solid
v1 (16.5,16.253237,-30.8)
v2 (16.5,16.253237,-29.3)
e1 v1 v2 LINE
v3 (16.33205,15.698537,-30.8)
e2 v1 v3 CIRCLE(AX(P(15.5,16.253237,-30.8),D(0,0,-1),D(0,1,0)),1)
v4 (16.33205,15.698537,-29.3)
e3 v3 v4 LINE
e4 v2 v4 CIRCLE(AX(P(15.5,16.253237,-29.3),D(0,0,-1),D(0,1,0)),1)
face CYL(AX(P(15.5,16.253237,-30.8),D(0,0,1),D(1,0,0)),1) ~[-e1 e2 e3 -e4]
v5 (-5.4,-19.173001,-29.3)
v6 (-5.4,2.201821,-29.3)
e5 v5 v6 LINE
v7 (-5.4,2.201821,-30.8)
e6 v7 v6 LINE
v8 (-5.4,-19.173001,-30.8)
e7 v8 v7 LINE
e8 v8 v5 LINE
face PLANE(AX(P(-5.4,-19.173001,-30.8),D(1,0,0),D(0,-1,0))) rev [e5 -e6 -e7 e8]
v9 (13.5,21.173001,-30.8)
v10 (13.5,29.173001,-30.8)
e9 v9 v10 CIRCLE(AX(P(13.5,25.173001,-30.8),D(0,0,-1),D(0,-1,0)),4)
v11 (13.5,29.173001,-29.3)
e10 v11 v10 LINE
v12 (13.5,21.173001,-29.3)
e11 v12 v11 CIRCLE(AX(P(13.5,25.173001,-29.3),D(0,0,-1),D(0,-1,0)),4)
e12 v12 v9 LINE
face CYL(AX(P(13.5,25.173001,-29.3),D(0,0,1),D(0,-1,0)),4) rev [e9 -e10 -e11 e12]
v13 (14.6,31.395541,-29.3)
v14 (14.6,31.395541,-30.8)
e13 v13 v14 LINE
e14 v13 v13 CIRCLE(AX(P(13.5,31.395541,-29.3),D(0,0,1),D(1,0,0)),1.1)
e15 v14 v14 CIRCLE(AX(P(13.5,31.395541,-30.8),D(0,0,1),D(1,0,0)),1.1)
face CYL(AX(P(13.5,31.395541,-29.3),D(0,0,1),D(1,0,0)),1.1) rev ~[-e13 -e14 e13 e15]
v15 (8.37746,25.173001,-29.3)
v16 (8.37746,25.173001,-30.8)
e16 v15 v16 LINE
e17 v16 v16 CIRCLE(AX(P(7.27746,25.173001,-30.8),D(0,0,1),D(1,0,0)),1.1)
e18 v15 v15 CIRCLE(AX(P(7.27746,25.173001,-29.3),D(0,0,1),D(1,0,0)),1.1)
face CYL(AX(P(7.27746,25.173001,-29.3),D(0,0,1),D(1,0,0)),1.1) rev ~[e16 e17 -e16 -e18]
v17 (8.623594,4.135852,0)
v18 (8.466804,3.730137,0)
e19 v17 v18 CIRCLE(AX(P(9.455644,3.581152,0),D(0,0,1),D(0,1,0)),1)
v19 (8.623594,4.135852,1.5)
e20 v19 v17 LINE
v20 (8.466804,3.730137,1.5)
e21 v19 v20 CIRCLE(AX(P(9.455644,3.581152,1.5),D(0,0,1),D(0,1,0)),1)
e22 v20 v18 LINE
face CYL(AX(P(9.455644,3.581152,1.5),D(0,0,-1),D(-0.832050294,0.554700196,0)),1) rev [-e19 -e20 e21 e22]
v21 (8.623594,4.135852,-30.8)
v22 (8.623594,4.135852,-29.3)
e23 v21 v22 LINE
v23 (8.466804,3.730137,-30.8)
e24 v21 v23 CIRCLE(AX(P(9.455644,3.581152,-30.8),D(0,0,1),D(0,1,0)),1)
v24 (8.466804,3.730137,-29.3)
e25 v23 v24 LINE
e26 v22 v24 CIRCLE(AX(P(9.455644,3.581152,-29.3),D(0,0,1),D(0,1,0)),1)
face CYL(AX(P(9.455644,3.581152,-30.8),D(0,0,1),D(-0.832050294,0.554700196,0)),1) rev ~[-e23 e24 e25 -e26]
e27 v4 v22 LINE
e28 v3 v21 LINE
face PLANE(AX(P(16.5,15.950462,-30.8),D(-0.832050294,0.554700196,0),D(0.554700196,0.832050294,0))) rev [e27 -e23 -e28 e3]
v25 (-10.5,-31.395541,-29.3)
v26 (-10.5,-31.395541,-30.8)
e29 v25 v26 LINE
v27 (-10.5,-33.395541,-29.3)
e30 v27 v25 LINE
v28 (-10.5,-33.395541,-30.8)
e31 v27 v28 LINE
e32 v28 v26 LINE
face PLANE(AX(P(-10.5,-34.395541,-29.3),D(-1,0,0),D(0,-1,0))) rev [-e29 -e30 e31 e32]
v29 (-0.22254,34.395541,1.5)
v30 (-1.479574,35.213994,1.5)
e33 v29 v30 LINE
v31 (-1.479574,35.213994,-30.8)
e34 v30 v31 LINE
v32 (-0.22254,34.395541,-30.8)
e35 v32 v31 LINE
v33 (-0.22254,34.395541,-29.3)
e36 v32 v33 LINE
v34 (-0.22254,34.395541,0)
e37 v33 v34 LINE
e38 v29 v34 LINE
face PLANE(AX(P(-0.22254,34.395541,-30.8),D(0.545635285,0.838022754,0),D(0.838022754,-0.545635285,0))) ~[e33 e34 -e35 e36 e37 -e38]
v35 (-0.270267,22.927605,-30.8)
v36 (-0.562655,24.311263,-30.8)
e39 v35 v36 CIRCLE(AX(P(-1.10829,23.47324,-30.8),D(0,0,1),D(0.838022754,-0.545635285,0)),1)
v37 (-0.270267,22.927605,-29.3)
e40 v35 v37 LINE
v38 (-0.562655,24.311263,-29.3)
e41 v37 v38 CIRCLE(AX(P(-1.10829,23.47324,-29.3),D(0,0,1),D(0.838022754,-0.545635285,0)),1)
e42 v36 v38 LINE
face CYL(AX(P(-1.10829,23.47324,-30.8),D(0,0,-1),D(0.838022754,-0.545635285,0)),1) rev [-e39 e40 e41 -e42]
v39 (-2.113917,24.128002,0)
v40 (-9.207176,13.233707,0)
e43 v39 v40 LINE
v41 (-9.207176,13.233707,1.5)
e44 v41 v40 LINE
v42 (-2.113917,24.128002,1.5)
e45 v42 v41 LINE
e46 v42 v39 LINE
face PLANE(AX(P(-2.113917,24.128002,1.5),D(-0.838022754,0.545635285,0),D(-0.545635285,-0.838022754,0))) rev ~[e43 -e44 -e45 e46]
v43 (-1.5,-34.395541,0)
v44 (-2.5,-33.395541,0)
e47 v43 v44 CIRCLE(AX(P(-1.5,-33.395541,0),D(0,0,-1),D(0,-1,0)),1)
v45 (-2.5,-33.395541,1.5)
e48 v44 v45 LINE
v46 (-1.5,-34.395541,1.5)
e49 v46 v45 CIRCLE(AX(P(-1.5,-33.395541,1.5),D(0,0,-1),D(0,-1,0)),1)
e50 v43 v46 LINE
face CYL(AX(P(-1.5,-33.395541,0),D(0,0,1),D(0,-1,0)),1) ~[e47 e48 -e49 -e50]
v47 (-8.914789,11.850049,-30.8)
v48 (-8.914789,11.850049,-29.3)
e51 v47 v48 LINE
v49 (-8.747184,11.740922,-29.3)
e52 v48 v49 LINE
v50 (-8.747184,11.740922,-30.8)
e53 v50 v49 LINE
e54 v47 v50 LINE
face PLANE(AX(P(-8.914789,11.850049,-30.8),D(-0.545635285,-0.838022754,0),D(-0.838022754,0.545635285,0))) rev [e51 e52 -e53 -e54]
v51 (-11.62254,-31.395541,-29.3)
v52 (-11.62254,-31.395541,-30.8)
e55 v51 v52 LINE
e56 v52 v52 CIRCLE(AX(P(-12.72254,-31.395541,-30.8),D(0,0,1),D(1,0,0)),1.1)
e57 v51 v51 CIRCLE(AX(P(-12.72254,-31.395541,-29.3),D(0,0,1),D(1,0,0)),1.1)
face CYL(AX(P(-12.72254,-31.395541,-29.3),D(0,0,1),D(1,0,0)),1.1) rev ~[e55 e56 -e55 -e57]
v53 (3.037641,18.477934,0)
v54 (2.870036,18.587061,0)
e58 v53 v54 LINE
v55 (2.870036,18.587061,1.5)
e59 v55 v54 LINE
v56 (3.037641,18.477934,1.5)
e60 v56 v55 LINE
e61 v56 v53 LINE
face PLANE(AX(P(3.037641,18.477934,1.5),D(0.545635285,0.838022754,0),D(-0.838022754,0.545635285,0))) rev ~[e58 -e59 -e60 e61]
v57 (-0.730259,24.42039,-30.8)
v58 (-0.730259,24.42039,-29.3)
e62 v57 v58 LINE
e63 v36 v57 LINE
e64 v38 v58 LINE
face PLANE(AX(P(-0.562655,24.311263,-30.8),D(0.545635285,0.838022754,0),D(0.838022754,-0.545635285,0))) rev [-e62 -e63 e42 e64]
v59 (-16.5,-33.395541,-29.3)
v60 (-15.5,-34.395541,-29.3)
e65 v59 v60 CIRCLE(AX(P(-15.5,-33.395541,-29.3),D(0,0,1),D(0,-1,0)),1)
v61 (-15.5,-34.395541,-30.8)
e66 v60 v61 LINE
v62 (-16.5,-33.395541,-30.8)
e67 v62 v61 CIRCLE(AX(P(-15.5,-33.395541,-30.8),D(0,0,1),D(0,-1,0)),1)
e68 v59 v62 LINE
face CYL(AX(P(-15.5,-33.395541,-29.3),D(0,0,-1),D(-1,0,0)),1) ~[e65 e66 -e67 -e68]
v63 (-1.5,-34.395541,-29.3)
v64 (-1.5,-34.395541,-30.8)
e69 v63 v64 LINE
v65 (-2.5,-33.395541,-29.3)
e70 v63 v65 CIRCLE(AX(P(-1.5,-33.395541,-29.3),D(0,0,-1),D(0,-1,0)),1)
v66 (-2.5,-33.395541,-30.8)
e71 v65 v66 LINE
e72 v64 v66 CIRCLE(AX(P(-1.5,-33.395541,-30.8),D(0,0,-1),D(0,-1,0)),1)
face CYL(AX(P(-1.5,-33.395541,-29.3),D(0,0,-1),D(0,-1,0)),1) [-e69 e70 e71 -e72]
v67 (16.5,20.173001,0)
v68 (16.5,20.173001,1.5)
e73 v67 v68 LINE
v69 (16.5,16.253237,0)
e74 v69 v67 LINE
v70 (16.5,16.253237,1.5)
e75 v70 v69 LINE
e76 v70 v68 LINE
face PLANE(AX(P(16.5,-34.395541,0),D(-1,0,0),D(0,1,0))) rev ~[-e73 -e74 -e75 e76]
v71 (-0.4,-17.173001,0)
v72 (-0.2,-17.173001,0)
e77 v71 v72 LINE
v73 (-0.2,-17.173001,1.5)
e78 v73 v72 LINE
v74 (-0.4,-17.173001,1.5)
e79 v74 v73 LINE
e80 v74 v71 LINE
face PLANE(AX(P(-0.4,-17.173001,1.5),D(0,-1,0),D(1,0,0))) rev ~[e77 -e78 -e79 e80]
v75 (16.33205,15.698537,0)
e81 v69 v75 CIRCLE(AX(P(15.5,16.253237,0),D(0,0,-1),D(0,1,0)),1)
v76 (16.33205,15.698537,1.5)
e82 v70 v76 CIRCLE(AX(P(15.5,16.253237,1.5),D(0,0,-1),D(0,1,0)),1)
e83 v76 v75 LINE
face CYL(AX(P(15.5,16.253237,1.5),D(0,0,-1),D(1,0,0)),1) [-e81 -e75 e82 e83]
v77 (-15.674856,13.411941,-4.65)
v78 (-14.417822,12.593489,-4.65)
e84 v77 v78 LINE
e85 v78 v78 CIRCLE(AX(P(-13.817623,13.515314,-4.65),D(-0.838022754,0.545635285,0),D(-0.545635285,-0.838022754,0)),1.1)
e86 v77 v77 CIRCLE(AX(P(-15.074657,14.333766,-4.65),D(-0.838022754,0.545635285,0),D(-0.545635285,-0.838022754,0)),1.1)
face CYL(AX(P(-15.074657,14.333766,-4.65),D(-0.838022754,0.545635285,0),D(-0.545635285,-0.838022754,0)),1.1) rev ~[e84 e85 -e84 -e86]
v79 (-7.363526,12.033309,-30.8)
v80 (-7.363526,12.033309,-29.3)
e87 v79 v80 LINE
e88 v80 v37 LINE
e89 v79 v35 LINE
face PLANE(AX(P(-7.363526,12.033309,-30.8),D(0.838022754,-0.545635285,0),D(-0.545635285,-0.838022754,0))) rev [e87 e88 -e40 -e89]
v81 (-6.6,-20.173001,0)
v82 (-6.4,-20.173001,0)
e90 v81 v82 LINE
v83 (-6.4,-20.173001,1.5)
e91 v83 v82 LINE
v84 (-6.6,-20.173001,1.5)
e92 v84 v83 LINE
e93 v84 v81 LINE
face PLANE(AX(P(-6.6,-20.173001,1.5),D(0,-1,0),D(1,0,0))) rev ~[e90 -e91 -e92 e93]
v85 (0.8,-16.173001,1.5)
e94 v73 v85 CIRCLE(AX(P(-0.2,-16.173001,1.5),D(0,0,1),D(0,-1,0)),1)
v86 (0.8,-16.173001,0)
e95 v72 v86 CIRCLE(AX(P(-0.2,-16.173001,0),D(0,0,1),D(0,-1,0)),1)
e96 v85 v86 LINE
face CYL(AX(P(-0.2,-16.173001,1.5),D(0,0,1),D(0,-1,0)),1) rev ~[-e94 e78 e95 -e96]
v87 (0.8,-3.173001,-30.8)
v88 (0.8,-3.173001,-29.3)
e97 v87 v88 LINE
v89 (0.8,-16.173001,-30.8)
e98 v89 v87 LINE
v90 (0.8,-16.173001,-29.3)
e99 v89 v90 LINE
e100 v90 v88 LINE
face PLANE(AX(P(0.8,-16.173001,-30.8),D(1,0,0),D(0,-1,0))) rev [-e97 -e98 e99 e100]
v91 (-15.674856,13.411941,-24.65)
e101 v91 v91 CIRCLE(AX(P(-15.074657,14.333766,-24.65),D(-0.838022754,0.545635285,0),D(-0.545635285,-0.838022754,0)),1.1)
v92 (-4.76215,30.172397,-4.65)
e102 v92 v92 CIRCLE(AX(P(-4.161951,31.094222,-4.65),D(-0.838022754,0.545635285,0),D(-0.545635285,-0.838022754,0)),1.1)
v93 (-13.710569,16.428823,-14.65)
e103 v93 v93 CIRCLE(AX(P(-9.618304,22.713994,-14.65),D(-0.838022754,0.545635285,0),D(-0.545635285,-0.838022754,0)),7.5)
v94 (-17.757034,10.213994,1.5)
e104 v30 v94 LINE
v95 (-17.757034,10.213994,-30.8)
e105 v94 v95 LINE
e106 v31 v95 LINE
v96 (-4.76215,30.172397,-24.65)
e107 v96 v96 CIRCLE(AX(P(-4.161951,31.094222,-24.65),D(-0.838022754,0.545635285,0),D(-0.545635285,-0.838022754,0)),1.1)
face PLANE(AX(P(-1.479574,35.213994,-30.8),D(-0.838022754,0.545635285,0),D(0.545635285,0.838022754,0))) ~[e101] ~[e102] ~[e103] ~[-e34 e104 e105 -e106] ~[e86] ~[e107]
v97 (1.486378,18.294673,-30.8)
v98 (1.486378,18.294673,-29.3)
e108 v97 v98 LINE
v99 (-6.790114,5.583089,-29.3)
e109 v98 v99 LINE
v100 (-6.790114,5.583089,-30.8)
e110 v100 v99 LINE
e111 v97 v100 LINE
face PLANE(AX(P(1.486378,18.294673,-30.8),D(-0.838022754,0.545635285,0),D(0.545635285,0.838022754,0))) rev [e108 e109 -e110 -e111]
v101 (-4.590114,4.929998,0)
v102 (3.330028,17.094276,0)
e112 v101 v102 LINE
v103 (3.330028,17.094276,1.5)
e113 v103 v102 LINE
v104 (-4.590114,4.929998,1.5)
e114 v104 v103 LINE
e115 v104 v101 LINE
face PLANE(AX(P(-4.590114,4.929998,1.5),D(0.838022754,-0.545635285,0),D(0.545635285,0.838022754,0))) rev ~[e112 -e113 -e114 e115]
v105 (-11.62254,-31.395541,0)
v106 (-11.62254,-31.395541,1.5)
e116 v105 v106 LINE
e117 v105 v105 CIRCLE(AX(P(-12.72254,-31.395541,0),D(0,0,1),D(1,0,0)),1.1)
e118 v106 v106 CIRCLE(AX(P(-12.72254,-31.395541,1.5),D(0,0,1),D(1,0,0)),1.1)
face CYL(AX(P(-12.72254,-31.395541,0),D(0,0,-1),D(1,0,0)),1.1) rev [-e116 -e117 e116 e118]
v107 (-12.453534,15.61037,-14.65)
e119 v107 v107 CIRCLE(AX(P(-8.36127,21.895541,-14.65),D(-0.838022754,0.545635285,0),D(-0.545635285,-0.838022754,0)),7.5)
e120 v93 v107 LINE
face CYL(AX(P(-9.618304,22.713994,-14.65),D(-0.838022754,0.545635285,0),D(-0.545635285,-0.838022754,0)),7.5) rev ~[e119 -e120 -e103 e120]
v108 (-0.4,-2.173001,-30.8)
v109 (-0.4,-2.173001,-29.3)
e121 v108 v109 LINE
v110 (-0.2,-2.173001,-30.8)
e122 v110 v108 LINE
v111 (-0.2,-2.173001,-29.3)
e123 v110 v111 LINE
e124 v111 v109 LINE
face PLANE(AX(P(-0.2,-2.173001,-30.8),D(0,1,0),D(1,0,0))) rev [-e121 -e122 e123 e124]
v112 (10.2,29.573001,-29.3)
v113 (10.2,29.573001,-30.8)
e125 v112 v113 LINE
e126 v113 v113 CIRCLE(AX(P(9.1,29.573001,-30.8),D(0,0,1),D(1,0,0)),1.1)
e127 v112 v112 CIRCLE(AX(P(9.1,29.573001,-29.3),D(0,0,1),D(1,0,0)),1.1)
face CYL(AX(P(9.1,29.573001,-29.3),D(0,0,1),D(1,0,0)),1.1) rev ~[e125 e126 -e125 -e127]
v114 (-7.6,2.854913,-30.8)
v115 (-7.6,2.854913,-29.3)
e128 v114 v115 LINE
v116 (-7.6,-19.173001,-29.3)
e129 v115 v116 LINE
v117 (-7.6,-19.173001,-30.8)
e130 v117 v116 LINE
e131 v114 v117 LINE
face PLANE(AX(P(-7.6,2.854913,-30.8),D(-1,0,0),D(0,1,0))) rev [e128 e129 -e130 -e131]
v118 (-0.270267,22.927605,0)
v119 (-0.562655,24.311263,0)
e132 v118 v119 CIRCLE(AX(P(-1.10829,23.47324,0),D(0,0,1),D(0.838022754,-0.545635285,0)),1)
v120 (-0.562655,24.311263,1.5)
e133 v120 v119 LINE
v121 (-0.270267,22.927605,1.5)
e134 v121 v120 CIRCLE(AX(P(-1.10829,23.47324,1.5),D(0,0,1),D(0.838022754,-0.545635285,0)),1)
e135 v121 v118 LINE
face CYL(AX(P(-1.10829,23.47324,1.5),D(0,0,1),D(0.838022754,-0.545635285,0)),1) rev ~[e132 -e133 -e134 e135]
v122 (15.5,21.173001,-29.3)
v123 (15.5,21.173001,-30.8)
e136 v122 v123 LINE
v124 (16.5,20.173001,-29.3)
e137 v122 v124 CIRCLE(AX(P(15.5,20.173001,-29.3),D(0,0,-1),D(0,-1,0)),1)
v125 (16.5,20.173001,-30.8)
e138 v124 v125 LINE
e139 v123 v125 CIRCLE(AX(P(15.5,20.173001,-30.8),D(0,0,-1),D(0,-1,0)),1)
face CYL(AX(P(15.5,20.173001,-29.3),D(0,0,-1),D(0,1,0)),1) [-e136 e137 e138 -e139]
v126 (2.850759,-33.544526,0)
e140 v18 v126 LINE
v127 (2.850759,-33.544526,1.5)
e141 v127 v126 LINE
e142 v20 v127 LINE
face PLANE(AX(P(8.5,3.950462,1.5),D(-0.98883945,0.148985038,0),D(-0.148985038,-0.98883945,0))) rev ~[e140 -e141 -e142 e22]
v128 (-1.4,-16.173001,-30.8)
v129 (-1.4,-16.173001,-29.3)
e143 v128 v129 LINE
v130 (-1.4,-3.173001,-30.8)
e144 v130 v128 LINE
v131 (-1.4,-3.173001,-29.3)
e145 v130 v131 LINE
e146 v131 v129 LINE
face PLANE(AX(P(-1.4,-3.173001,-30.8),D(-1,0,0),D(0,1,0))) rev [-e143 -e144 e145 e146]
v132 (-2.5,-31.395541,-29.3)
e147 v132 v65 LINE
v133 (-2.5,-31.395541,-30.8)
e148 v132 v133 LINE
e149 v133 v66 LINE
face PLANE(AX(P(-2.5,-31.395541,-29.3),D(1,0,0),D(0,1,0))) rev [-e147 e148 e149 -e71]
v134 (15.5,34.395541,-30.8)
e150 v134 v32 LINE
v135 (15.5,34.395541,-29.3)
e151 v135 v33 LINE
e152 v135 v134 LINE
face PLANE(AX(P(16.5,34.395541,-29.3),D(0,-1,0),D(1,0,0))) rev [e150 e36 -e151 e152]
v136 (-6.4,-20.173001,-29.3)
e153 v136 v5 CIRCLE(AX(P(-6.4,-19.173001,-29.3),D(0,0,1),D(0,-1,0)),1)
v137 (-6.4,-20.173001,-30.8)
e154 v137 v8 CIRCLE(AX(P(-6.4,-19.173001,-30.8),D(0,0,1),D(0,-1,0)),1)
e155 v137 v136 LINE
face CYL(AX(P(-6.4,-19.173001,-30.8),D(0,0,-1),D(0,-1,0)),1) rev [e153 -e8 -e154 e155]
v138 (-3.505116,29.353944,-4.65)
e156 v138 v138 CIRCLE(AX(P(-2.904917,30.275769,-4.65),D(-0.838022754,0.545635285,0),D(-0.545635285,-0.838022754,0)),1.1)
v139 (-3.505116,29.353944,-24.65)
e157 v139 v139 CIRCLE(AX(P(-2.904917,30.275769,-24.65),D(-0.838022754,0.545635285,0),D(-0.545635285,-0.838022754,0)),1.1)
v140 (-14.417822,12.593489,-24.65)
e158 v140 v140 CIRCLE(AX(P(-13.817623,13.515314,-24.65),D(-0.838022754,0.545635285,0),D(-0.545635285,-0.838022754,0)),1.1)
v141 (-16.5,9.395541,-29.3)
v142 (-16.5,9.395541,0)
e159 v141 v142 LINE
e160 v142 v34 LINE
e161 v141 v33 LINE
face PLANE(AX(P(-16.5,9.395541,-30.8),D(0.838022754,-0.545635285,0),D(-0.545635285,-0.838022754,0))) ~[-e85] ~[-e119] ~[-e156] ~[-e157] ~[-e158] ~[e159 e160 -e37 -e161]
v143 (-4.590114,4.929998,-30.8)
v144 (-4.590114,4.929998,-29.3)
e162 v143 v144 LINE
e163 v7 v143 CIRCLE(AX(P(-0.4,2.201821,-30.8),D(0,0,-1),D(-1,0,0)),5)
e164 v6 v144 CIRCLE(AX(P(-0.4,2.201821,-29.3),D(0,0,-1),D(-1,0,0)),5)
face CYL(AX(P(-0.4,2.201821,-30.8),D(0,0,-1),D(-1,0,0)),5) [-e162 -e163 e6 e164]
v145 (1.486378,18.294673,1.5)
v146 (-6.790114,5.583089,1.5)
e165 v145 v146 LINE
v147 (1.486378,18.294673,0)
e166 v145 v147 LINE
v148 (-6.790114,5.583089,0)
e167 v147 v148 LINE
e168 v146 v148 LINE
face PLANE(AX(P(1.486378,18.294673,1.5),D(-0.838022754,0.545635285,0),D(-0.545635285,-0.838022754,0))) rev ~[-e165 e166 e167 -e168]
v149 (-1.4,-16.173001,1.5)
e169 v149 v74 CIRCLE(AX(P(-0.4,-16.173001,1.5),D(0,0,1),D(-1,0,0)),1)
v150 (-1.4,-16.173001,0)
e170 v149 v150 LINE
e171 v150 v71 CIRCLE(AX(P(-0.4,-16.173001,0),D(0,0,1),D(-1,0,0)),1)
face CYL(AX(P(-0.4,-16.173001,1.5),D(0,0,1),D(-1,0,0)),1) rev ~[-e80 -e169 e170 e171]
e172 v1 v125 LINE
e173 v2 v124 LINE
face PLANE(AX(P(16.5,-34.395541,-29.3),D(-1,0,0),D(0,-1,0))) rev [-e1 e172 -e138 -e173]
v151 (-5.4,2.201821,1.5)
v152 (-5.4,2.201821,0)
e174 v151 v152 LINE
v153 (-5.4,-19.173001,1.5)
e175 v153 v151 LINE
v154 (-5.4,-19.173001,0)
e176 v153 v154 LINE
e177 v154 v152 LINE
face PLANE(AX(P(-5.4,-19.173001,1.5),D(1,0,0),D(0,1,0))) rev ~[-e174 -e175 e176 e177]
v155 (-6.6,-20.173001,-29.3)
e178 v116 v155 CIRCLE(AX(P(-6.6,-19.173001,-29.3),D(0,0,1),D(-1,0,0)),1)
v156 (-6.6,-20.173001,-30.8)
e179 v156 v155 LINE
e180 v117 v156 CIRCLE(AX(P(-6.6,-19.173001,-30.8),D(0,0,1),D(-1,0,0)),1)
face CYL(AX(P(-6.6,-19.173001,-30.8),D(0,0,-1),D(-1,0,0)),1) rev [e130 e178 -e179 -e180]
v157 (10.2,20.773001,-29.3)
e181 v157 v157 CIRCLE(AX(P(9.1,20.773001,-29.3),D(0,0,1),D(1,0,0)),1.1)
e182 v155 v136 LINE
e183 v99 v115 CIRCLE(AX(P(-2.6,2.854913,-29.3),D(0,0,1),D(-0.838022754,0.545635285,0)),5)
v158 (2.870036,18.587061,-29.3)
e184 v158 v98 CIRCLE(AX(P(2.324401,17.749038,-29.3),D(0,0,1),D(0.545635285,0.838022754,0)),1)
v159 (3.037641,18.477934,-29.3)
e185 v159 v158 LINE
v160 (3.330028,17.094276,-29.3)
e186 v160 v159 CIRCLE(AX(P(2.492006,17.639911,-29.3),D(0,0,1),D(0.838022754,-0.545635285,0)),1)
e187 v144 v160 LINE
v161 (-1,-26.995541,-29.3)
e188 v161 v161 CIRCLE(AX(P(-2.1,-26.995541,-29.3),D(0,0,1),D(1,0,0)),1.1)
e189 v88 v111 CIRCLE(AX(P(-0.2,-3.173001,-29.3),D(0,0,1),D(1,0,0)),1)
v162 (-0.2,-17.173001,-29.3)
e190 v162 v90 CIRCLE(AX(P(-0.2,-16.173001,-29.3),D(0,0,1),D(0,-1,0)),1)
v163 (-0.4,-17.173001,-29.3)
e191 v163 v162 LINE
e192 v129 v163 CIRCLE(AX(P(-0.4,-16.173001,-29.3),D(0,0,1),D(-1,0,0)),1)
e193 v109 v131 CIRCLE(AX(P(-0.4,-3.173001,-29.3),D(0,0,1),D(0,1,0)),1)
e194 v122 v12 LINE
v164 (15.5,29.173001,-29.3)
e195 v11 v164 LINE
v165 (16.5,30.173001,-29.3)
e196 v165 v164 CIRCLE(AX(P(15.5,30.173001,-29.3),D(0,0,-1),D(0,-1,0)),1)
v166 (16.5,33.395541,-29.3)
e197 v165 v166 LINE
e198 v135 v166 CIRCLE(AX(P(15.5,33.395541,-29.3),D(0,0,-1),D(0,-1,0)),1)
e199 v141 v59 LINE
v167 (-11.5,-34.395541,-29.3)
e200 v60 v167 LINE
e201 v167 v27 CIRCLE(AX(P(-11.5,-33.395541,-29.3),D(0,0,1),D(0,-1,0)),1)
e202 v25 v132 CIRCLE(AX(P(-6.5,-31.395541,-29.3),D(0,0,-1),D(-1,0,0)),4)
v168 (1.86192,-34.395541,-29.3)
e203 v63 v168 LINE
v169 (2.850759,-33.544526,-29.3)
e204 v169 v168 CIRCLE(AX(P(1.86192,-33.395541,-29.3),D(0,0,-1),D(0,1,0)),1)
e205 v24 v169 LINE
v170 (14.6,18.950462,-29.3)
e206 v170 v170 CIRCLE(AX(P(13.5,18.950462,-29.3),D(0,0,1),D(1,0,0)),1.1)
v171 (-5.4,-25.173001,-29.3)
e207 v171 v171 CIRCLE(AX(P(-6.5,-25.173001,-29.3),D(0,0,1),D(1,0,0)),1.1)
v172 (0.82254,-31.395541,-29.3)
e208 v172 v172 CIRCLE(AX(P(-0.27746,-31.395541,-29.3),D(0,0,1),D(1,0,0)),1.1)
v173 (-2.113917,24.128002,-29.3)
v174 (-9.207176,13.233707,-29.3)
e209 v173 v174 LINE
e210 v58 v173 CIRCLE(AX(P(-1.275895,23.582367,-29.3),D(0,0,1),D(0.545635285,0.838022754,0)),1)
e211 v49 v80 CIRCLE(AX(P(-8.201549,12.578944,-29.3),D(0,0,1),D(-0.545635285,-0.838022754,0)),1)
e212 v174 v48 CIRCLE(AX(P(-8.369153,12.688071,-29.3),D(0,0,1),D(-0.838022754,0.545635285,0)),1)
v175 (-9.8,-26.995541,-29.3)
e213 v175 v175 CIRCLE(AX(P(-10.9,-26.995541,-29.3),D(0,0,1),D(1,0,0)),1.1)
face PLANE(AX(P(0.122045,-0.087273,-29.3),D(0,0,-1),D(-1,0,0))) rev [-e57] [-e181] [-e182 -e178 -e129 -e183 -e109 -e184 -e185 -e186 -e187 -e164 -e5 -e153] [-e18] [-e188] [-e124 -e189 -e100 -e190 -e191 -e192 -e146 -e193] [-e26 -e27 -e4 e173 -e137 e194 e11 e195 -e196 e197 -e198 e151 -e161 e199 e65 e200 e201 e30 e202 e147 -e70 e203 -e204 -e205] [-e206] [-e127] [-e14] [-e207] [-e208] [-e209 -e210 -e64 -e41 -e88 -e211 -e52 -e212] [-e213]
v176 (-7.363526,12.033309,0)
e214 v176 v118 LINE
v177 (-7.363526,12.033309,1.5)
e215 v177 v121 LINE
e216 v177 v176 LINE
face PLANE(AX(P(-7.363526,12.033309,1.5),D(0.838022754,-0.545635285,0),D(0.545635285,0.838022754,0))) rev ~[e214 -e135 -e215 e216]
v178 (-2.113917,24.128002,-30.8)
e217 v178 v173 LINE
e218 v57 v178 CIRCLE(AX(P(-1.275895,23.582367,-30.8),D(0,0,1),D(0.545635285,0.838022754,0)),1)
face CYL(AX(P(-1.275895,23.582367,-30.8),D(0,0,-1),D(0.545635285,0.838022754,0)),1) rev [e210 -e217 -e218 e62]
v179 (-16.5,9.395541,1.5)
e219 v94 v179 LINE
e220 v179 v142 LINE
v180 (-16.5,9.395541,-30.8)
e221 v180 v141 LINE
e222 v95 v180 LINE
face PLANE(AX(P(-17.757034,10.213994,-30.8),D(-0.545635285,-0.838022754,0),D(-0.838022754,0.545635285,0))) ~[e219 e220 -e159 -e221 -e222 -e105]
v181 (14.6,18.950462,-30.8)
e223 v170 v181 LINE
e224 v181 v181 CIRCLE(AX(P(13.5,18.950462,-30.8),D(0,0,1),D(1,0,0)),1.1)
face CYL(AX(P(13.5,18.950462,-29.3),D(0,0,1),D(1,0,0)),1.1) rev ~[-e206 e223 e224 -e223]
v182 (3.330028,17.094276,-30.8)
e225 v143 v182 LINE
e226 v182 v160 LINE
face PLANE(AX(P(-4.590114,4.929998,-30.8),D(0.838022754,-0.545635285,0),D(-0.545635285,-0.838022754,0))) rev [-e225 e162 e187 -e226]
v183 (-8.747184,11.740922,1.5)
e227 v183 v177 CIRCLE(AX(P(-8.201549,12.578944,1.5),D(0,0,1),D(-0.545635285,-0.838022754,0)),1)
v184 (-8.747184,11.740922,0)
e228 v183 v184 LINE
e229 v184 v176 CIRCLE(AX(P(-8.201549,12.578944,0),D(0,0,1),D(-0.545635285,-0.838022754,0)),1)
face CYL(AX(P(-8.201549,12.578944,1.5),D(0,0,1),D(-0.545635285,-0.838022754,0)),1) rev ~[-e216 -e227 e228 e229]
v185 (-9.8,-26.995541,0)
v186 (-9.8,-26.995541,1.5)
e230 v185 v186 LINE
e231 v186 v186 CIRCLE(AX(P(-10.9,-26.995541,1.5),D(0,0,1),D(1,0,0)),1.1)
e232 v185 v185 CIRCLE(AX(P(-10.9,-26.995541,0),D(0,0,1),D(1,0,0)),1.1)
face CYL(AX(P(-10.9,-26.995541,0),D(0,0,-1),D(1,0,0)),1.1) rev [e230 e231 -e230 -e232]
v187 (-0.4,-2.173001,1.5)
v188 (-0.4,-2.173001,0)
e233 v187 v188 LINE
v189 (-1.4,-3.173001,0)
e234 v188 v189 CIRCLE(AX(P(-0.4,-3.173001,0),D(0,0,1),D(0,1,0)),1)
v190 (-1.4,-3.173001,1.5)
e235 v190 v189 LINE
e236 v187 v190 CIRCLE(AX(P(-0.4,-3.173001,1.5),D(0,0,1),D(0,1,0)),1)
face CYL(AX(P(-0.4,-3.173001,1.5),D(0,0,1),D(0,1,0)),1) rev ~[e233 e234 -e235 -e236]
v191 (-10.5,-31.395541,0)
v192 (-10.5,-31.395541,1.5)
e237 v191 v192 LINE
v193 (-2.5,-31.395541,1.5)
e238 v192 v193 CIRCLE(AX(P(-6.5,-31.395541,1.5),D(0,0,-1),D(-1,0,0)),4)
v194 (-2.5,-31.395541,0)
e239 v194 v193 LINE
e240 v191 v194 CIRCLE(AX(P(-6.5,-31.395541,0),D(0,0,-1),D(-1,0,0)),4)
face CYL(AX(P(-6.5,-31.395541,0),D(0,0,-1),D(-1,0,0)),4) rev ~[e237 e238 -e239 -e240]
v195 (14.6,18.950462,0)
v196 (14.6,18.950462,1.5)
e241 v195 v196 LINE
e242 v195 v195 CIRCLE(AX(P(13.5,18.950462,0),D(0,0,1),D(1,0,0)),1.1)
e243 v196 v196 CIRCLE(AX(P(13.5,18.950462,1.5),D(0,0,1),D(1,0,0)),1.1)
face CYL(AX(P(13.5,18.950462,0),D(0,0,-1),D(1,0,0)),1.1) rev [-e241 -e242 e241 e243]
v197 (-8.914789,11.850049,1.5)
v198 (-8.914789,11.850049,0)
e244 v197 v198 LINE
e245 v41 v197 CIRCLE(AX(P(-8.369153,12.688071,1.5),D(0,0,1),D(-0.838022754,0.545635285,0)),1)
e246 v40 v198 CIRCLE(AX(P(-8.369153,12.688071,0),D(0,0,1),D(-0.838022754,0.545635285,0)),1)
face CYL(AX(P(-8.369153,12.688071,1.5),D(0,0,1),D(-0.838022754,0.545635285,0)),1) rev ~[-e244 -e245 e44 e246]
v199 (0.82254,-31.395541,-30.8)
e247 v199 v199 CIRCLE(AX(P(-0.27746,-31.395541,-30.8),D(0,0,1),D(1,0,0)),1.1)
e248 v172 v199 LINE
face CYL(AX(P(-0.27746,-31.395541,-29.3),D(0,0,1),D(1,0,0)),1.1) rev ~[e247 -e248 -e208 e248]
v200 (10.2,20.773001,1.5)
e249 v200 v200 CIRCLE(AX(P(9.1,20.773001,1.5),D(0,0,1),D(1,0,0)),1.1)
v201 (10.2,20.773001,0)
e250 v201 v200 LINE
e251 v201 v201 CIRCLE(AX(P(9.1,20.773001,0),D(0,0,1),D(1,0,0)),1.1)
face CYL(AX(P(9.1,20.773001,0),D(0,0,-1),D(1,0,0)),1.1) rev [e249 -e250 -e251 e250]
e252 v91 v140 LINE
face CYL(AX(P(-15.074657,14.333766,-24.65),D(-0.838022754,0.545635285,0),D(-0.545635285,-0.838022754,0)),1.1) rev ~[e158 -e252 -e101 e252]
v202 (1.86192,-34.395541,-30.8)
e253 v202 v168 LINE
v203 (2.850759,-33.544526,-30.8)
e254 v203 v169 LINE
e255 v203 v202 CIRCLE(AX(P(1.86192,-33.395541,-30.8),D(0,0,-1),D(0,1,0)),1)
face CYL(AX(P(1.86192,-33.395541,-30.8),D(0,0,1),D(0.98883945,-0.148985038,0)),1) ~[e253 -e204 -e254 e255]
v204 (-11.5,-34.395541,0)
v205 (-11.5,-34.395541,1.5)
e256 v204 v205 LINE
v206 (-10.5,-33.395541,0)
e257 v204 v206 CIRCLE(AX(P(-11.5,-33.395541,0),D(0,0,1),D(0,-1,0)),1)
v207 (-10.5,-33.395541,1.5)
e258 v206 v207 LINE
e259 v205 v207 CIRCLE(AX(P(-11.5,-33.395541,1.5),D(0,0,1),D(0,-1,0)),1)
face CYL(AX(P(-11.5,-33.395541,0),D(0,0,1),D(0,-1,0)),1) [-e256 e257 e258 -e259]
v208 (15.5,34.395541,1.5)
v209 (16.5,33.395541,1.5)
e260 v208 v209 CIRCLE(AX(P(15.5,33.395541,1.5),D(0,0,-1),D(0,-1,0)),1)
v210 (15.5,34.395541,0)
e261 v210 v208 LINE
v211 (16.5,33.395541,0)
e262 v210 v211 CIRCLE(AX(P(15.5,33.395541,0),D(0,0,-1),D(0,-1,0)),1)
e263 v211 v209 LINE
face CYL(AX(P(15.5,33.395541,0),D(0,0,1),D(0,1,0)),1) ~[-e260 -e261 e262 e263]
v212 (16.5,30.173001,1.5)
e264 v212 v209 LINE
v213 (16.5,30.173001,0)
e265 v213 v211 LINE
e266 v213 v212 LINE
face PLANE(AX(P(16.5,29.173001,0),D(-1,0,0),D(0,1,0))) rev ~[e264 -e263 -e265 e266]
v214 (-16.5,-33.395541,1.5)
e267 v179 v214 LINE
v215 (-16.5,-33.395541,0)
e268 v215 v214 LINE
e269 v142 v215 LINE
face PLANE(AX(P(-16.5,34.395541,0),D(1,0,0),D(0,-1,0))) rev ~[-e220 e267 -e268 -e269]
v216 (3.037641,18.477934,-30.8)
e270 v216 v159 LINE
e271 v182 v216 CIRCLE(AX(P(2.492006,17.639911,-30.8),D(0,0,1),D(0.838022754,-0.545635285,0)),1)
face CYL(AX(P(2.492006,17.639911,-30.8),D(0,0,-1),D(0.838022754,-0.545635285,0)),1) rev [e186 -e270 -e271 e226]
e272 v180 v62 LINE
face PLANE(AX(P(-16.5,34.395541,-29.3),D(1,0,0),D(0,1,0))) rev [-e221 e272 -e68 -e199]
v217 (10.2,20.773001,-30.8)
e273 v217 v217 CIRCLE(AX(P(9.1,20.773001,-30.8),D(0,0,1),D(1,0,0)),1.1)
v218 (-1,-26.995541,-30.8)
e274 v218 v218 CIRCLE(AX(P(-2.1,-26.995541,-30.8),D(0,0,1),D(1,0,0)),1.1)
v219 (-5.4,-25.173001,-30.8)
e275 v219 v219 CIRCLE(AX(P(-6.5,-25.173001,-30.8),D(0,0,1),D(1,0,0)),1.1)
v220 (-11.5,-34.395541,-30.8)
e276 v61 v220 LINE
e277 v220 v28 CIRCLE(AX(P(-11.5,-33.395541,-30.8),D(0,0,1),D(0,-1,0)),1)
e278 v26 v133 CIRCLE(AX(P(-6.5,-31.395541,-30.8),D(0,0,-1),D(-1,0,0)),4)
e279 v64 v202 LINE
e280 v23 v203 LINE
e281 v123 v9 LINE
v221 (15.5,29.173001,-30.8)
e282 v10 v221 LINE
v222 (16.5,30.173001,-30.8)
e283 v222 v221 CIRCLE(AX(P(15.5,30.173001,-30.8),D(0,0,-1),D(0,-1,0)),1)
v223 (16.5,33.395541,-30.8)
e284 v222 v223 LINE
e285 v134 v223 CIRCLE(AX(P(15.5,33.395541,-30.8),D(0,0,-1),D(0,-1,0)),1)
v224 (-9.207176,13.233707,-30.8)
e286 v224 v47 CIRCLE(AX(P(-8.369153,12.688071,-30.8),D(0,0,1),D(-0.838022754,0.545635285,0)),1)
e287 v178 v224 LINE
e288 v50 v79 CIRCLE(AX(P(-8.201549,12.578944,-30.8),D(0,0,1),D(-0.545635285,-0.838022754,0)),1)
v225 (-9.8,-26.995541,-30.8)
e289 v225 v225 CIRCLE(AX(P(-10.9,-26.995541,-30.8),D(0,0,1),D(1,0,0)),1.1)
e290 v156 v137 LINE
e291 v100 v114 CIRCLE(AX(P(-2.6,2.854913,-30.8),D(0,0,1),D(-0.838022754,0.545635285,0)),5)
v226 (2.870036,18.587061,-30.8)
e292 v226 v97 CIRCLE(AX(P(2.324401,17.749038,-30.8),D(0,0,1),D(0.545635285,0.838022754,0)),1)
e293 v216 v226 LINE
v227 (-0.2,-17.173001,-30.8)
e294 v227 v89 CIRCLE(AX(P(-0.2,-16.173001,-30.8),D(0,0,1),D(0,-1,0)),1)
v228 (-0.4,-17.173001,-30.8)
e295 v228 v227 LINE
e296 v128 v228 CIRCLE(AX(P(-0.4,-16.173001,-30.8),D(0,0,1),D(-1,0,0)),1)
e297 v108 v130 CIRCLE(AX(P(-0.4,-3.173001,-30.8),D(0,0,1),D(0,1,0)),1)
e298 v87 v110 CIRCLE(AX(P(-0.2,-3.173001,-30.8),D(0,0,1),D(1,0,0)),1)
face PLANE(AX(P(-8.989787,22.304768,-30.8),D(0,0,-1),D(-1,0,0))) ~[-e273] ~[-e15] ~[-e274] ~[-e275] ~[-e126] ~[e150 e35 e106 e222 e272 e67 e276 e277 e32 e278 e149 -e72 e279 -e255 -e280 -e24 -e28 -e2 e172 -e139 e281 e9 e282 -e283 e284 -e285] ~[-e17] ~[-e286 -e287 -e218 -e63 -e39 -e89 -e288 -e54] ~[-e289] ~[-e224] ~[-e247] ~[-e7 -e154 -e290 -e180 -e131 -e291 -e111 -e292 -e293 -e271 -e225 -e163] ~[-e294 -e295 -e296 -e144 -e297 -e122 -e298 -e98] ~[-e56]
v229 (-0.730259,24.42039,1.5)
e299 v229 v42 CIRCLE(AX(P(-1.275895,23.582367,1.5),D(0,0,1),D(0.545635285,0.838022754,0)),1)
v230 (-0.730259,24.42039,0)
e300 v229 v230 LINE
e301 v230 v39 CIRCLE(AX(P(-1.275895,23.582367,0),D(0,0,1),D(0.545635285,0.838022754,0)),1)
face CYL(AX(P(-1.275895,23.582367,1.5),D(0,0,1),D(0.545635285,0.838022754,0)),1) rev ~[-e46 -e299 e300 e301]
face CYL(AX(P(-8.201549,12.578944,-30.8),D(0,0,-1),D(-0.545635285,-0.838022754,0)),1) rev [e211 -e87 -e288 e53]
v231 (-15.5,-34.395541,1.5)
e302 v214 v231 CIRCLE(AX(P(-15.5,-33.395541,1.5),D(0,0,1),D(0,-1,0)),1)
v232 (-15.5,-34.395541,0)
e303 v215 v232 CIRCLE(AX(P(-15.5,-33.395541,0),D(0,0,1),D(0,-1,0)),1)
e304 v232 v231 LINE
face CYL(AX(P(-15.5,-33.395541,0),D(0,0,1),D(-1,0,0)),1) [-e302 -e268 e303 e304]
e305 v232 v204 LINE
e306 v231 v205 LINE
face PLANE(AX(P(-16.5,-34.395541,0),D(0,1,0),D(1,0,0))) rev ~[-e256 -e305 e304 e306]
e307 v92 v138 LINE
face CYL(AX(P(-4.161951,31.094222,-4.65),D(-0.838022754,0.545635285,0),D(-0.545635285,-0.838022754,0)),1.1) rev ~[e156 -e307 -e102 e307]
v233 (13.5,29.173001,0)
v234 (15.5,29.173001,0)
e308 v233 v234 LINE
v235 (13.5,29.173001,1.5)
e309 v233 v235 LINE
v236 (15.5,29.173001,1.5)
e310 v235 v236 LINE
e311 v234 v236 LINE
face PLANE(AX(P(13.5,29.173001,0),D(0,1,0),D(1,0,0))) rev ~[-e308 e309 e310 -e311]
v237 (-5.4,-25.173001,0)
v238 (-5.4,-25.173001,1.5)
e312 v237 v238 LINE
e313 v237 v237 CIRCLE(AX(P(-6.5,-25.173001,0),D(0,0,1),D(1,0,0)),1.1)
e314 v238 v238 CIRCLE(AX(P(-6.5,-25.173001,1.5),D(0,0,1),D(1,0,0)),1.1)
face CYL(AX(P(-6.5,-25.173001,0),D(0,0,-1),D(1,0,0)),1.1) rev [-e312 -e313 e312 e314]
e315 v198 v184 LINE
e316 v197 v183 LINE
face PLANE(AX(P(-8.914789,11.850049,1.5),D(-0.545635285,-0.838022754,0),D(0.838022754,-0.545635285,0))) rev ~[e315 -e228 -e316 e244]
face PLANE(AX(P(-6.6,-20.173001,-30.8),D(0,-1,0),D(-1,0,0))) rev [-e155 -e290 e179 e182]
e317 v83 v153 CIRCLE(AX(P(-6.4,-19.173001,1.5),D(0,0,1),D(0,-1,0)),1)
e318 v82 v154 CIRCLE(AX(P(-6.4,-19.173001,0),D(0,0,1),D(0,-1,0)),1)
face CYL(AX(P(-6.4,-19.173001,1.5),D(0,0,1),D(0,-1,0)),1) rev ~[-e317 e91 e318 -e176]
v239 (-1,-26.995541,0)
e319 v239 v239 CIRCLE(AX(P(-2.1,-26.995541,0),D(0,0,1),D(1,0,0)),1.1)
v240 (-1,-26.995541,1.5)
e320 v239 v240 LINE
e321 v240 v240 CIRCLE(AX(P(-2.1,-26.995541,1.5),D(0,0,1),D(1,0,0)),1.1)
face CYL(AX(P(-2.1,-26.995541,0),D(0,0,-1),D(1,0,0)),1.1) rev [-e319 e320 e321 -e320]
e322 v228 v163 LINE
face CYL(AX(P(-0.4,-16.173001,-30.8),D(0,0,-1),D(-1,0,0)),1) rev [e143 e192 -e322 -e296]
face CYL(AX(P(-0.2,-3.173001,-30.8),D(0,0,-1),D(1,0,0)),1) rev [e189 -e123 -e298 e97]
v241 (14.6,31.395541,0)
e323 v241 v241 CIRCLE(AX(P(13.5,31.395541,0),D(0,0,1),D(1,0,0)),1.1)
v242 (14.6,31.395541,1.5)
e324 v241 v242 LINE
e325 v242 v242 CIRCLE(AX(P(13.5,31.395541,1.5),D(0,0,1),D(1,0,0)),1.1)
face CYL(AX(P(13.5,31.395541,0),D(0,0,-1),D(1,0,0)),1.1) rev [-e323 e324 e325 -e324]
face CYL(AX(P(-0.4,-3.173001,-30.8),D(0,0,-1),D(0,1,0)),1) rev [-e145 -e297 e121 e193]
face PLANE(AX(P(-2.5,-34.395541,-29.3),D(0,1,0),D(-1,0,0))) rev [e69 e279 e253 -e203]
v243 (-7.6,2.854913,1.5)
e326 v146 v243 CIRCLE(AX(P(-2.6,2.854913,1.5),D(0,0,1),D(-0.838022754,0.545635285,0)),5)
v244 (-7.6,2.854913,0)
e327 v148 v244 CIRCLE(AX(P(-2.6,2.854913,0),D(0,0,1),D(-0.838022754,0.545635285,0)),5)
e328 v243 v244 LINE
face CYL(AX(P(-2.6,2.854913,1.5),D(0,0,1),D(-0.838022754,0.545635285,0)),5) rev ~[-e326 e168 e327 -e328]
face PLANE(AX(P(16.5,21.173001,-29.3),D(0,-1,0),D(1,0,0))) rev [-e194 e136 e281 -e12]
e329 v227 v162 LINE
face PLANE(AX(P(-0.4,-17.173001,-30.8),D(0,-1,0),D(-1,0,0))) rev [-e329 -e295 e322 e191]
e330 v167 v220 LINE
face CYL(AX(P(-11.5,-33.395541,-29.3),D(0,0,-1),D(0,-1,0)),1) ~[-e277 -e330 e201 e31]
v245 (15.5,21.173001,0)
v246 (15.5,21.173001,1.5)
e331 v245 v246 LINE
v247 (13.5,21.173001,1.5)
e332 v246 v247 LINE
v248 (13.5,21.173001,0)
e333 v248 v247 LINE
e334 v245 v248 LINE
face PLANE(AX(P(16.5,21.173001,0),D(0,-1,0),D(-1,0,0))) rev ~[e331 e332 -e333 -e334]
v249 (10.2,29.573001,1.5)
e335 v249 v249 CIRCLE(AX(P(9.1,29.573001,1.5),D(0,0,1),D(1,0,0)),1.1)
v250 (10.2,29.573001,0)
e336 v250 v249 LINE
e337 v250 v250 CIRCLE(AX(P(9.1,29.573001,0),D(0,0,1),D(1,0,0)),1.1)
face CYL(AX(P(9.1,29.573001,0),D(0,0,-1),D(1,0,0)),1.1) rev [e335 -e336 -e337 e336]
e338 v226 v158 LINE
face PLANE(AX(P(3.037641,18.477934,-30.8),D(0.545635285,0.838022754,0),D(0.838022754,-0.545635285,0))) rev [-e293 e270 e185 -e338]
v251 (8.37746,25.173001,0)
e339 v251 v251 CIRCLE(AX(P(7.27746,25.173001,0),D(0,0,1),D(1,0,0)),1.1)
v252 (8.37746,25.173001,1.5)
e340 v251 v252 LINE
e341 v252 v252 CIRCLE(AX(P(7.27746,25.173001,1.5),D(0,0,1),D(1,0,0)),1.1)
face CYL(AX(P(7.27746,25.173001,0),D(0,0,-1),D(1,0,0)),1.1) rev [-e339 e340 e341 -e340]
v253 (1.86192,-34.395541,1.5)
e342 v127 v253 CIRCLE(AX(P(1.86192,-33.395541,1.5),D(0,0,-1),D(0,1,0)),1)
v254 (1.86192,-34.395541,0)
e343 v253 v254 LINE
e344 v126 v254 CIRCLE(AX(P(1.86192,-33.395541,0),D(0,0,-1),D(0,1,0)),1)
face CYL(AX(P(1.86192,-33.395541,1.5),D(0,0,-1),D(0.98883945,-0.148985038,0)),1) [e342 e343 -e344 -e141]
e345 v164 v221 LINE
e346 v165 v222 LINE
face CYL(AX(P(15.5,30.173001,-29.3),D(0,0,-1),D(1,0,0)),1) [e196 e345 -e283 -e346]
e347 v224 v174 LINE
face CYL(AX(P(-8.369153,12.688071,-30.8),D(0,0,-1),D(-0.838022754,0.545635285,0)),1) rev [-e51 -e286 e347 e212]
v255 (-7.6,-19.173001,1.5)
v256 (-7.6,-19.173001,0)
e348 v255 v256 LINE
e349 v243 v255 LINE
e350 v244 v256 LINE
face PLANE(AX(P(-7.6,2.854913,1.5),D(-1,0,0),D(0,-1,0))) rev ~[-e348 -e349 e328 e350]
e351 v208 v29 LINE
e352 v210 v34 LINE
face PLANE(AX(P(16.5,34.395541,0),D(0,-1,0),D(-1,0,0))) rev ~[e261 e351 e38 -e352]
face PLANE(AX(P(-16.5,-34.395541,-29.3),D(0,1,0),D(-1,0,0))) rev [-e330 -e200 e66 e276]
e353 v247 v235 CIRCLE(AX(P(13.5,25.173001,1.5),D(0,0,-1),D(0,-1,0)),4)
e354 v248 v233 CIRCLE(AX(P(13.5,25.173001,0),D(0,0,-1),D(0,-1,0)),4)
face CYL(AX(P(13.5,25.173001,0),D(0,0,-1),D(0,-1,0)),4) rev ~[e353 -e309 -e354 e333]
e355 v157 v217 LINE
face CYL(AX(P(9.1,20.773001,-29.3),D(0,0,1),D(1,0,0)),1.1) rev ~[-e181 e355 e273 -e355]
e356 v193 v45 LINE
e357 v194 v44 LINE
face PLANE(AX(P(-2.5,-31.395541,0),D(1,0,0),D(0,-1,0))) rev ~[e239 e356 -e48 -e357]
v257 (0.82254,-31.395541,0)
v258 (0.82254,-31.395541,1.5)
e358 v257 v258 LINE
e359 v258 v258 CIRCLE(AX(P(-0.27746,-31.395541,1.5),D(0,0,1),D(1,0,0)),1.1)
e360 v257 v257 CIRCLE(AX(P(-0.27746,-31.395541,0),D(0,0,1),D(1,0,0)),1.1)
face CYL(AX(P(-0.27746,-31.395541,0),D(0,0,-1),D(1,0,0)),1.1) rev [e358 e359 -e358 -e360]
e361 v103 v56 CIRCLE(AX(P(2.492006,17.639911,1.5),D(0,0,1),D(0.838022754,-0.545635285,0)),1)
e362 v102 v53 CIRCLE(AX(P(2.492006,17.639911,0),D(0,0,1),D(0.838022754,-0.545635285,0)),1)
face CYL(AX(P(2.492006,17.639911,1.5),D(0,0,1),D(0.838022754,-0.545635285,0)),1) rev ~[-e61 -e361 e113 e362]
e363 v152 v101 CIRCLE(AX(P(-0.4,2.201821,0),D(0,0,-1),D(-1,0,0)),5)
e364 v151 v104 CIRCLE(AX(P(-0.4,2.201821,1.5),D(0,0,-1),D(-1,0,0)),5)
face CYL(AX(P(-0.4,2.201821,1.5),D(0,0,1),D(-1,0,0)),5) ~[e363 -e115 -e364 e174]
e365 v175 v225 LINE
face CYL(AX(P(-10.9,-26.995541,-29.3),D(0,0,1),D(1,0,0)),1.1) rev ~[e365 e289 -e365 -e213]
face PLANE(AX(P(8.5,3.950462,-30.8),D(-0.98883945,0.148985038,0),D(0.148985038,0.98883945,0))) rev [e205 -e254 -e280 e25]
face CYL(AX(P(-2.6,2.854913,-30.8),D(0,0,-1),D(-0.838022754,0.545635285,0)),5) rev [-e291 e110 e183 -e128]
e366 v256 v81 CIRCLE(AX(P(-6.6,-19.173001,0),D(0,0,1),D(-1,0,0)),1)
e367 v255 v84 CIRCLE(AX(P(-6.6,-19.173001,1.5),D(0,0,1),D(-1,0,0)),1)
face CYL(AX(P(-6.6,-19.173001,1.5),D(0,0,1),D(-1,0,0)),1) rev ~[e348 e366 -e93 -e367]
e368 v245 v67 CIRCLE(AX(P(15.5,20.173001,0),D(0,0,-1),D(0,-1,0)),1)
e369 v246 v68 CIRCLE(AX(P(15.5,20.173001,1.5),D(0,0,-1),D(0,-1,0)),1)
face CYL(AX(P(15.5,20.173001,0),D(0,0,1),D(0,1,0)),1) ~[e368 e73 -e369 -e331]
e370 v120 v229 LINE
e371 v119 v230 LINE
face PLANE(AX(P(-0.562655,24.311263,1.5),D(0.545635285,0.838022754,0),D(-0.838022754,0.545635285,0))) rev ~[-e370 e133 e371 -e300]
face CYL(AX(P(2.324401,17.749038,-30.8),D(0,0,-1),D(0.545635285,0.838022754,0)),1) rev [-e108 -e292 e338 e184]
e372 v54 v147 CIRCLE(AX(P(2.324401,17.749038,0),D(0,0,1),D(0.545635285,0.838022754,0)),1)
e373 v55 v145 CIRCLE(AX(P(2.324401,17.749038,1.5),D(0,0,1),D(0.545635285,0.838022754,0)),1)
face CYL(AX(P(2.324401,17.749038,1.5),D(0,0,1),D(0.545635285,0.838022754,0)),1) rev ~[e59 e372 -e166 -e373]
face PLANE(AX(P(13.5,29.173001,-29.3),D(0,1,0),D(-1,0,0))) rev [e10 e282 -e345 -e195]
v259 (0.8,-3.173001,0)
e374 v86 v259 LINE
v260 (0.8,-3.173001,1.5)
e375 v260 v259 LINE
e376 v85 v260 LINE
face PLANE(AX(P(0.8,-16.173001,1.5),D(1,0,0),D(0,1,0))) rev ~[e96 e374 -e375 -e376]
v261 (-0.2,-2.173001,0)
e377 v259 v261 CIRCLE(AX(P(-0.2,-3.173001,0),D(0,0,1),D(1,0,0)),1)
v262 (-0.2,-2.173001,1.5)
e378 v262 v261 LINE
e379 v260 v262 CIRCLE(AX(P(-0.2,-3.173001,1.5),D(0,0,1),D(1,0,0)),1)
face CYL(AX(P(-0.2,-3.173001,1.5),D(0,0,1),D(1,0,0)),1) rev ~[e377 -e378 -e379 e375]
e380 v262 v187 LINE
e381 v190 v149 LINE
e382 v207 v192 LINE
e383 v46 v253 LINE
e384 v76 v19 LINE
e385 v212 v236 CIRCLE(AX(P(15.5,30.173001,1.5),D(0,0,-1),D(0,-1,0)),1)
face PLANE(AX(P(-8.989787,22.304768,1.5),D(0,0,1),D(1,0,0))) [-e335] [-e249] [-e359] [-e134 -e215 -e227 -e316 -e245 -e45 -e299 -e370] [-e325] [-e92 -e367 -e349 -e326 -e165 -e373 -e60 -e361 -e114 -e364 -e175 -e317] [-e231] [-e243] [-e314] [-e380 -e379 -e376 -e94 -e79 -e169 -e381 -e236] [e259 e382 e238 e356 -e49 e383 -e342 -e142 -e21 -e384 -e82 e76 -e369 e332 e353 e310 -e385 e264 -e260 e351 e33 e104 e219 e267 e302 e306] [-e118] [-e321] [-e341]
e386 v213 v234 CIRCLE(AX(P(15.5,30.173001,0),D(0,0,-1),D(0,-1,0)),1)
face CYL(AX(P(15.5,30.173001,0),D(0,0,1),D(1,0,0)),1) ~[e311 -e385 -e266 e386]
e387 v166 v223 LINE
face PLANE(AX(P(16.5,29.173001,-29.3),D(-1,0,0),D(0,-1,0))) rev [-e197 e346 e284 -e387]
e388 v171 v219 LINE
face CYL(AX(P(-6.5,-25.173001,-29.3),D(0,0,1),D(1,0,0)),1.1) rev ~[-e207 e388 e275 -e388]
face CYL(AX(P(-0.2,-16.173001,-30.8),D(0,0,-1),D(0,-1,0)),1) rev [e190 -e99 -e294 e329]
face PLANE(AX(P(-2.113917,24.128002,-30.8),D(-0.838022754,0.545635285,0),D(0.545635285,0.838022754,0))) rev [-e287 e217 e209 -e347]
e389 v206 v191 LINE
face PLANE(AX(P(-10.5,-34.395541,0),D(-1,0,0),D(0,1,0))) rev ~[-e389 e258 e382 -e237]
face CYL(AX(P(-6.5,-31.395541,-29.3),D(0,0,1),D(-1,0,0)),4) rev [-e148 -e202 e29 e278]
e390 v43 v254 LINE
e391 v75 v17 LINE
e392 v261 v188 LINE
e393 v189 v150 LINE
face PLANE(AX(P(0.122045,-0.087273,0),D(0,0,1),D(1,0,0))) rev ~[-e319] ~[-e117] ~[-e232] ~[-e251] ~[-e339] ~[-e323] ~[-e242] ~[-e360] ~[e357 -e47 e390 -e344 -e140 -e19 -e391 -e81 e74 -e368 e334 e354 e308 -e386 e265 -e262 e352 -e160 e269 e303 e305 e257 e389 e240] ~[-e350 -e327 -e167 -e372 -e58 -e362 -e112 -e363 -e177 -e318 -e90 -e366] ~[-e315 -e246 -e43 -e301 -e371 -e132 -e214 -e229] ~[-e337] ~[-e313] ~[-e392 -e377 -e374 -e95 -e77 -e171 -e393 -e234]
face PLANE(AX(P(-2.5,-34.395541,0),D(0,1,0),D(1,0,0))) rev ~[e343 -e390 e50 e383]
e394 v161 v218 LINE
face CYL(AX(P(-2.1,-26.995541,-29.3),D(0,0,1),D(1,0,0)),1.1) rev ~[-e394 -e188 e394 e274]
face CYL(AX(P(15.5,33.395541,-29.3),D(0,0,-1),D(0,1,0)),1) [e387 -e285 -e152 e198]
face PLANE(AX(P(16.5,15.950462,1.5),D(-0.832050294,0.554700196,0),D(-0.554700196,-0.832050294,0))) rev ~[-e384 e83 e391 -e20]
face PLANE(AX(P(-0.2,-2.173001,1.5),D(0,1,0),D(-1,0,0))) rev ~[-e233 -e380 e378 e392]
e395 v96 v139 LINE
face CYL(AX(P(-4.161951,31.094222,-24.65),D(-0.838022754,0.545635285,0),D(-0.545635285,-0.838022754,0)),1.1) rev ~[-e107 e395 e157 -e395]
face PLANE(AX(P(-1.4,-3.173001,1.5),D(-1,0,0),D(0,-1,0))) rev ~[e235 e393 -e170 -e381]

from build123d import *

# Parameters (mm, degrees)
F0_R      = 1.1
F1_DEPTH  = 1.5
F3_DEPTH  = 1.5
F5_DEPTH  = 1.5
F6_R      = 1
F8_DEPTH  = 16.15
F11_R     = 1.1
F11_R_2   = 7.5
F12_DEPTH = 1.5


with BuildPart() as f1:
    # F0 (on Top) → F1 (new body)
    with BuildSketch(Plane.XY):
        with BuildLine():
            Line((16.5, 34.3955410847), (-16.5, 34.3955410847))
            Line((-16.5, 34.3955410847), (-16.5, -34.3955410847))
            Line((-16.5, -34.3955410847), (-10.5, -34.3955410847))
            Line((-10.5, -34.3955410847), (-10.5, -31.3955410847))
            ThreePointArc((-10.5, -31.3955410847), (-6.5, -27.3955410847), (-2.5, -31.3955410847))
            Line((-2.5, -31.3955410847), (-2.5, -34.3955410847))
            Line((-2.5, -34.3955410847), (16.5, -34.3955410847))
            Line((16.5, -34.3955410847), (16.5, 21.1730014102))
            Line((16.5, 21.1730014102), (13.5, 21.1730014102))
            ThreePointArc((13.5, 21.1730014102), (9.5, 25.1730014102), (13.5, 29.1730014102))
            Line((13.5, 29.1730014102), (16.5, 29.1730014102))
            Line((16.5, 29.1730014102), (16.5, 34.3955410847))
        make_face()
        with Locations((-12.7225396744, -31.3955410847)):
            Circle(F0_R, mode=Mode.SUBTRACT)
        with Locations((-10.9, -26.9955410847)):
            Circle(F0_R, mode=Mode.SUBTRACT)
        with Locations((-0.2774603256, -31.3955410847)):
            Circle(F0_R, mode=Mode.SUBTRACT)
        with Locations((-2.1, -26.9955410847)):
            Circle(F0_R, mode=Mode.SUBTRACT)
        with Locations((-6.5, -25.1730014102)):
            Circle(F0_R, mode=Mode.SUBTRACT)
        with Locations((7.2774603256, 25.1730014102)):
            Circle(F0_R, mode=Mode.SUBTRACT)
        with Locations((9.1, 20.7730014102)):
            Circle(F0_R, mode=Mode.SUBTRACT)
        with Locations((13.5, 18.9504617358)):
            Circle(F0_R, mode=Mode.SUBTRACT)
        with Locations((9.1, 29.5730014102)):
            Circle(F0_R, mode=Mode.SUBTRACT)
        with Locations((13.5, 31.3955410847)):
            Circle(F0_R, mode=Mode.SUBTRACT)
    extrude(amount=F1_DEPTH)

    # F2 (on face) → F3 (cut, through all)
    with BuildSketch(Plane.XY.offset(1.5)):
        Polygon((16.5, -34.3955410847), (16.5, 15.9504617358), (8.5, 3.9504617358), (2.7225396744, -34.3955410847), align=None)
        Polygon((-16.5, 9.3955410847), (-0.2225396744, 34.3955410847), (-16.5, 34.3955410847), align=None)
    extrude(amount=-F3_DEPTH, mode=Mode.SUBTRACT)

    # F4 (on face) → F5 (cut, through all)
    with BuildSketch(Plane.XY.offset(1.5)):
        with BuildLine():
            Line((-7.3635261338, 12.0333090433), (-0.2702674285, 22.9276048416))
            ThreePointArc((-0.2702674285, 22.9276048416), (-0.1298962002, 23.6799892884), (-0.5626548972, 24.3112628803))
            Line((-0.5626548972, 24.3112628803), (-0.7302594479, 24.4203899373))
            ThreePointArc((-0.7302594479, 24.4203899373), (-1.4826438948, 24.5607611656), (-2.1139174867, 24.1280024686))
            Line((-2.1139174867, 24.1280024686), (-9.2071761919, 13.2337066703))
            ThreePointArc((-9.2071761919, 13.2337066703), (-9.3475474202, 12.4813222235), (-8.9147887232, 11.8500486316))
            Line((-8.9147887232, 11.8500486316), (-8.7471841725, 11.7409215746))
            ThreePointArc((-8.7471841725, 11.7409215746), (-7.9947997256, 11.6005503463), (-7.3635261338, 12.0333090433))
        make_face()
        with BuildLine():
            ThreePointArc((2.8700363395, 18.5870607935), (2.1176518927, 18.7274320218), (1.4863783008, 18.2946733248))
            Line((1.4863783008, 18.2946733248), (-6.7901137686, 5.5830894784))
            ThreePointArc((-6.7901137686, 5.5830894784), (-7.3932540535, 4.2778380614), (-7.6, 2.8549130533))
            Line((-7.6, 2.8549130533), (-7.6, -19.1730014102))
            ThreePointArc((-7.6, -19.1730014102), (-7.3071067812, -19.8801081914), (-6.6, -20.1730014102))
            Line((-6.6, -20.1730014102), (-6.5, -20.1730014102))
            Line((-6.5, -20.1730014102), (-6.4, -20.1730014102))
            ThreePointArc((-6.4, -20.1730014102), (-5.6928932188, -19.8801081914), (-5.4, -19.1730014102))
            Line((-5.4, -19.1730014102), (-5.4, 2.2018212324))
            ThreePointArc((-5.4, 2.2018212324), (-5.1932540535, 3.6247462405), (-4.5901137686, 4.9299976575))
            Line((-4.5901137686, 4.9299976575), (3.330028359, 17.0942756977))
            ThreePointArc((3.330028359, 17.0942756977), (3.4703995873, 17.8466601446), (3.0376408903, 18.4779337365))
            Line((3.0376408903, 18.4779337365), (2.9538386149, 18.532497265))
            Line((2.9538386149, 18.532497265), (2.8700363395, 18.5870607935))
        make_face()
        with BuildLine():
            Line((-0.2, -2.1730014102), (-0.4, -2.1730014102))
            ThreePointArc((-0.4, -2.1730014102), (-1.1071067812, -2.4658946291), (-1.4, -3.1730014102))
            Line((-1.4, -3.1730014102), (-1.4, -16.1730014102))
            ThreePointArc((-1.4, -16.1730014102), (-1.1071067812, -16.8801081914), (-0.4, -17.1730014102))
            Line((-0.4, -17.1730014102), (-0.2, -17.1730014102))
            ThreePointArc((-0.2, -17.1730014102), (0.5071067812, -16.8801081914), (0.8, -16.1730014102))
            Line((0.8, -16.1730014102), (0.8, -3.1730014102))
            ThreePointArc((0.8, -3.1730014102), (0.5071067812, -2.4658946291), (-0.2, -2.1730014102))
        make_face()
    extrude(amount=-F5_DEPTH, mode=Mode.SUBTRACT)

    # F6
    f6_edges = [f1.edges().sort_by_distance(p)[0] for p in [
        (-16.5, -34.395541, 0.75),
        (-10.5, -34.395541, 0.75),
        (-2.5, -34.395541, 0.75),
        (2.72254, -34.395541, 0.75),
        (8.5, 3.950462, 0.75),
        (16.5, 15.950462, 0.75),
        (16.5, 34.395541, 0.75),
        (16.5, 21.173001, 0.75),
        (16.5, 29.173001, 0.75),
    ]]
    fillet(f6_edges, radius=F6_R)

    # F7 (on face) → F8 (join)
    with BuildSketch(Plane.XY.offset(1.5)):
        Polygon((-17.7570341306, 10.2139940122), (-16.5, 9.3955410847), (-0.2225396744, 34.3955410847), (-1.479573805, 35.2139940122), align=None)
    extrude(amount=-F8_DEPTH)

    # F10: F1 across plane


with BuildPart() as f1_1:
    add(f1.part)
    add(f1.part.mirror(Plane.XY.offset(-14.65)))

    # F11 (on face) → F12 (cut, through all)
    with BuildSketch(Plane(origin=(-17.1408454803, 11.1603772901, 0), x_dir=(-0.545635285, -0.8380227537, 0), z_dir=(-0.8380227537, 0.545635285, 0))):
        with Locations((-23.7867577831, -24.65)):
            Circle(F11_R)
        with Locations((-23.7867577831, -4.65)):
            Circle(F11_R)
        with Locations((-3.7867577831, -24.65)):
            Circle(F11_R)
        with Locations((-3.7867577831, -4.65)):
            Circle(F11_R)
        with Locations((-13.7867577831, -14.65)):
            Circle(F11_R_2)
    extrude(amount=-F12_DEPTH, mode=Mode.SUBTRACT)


solid = f1_1.part
